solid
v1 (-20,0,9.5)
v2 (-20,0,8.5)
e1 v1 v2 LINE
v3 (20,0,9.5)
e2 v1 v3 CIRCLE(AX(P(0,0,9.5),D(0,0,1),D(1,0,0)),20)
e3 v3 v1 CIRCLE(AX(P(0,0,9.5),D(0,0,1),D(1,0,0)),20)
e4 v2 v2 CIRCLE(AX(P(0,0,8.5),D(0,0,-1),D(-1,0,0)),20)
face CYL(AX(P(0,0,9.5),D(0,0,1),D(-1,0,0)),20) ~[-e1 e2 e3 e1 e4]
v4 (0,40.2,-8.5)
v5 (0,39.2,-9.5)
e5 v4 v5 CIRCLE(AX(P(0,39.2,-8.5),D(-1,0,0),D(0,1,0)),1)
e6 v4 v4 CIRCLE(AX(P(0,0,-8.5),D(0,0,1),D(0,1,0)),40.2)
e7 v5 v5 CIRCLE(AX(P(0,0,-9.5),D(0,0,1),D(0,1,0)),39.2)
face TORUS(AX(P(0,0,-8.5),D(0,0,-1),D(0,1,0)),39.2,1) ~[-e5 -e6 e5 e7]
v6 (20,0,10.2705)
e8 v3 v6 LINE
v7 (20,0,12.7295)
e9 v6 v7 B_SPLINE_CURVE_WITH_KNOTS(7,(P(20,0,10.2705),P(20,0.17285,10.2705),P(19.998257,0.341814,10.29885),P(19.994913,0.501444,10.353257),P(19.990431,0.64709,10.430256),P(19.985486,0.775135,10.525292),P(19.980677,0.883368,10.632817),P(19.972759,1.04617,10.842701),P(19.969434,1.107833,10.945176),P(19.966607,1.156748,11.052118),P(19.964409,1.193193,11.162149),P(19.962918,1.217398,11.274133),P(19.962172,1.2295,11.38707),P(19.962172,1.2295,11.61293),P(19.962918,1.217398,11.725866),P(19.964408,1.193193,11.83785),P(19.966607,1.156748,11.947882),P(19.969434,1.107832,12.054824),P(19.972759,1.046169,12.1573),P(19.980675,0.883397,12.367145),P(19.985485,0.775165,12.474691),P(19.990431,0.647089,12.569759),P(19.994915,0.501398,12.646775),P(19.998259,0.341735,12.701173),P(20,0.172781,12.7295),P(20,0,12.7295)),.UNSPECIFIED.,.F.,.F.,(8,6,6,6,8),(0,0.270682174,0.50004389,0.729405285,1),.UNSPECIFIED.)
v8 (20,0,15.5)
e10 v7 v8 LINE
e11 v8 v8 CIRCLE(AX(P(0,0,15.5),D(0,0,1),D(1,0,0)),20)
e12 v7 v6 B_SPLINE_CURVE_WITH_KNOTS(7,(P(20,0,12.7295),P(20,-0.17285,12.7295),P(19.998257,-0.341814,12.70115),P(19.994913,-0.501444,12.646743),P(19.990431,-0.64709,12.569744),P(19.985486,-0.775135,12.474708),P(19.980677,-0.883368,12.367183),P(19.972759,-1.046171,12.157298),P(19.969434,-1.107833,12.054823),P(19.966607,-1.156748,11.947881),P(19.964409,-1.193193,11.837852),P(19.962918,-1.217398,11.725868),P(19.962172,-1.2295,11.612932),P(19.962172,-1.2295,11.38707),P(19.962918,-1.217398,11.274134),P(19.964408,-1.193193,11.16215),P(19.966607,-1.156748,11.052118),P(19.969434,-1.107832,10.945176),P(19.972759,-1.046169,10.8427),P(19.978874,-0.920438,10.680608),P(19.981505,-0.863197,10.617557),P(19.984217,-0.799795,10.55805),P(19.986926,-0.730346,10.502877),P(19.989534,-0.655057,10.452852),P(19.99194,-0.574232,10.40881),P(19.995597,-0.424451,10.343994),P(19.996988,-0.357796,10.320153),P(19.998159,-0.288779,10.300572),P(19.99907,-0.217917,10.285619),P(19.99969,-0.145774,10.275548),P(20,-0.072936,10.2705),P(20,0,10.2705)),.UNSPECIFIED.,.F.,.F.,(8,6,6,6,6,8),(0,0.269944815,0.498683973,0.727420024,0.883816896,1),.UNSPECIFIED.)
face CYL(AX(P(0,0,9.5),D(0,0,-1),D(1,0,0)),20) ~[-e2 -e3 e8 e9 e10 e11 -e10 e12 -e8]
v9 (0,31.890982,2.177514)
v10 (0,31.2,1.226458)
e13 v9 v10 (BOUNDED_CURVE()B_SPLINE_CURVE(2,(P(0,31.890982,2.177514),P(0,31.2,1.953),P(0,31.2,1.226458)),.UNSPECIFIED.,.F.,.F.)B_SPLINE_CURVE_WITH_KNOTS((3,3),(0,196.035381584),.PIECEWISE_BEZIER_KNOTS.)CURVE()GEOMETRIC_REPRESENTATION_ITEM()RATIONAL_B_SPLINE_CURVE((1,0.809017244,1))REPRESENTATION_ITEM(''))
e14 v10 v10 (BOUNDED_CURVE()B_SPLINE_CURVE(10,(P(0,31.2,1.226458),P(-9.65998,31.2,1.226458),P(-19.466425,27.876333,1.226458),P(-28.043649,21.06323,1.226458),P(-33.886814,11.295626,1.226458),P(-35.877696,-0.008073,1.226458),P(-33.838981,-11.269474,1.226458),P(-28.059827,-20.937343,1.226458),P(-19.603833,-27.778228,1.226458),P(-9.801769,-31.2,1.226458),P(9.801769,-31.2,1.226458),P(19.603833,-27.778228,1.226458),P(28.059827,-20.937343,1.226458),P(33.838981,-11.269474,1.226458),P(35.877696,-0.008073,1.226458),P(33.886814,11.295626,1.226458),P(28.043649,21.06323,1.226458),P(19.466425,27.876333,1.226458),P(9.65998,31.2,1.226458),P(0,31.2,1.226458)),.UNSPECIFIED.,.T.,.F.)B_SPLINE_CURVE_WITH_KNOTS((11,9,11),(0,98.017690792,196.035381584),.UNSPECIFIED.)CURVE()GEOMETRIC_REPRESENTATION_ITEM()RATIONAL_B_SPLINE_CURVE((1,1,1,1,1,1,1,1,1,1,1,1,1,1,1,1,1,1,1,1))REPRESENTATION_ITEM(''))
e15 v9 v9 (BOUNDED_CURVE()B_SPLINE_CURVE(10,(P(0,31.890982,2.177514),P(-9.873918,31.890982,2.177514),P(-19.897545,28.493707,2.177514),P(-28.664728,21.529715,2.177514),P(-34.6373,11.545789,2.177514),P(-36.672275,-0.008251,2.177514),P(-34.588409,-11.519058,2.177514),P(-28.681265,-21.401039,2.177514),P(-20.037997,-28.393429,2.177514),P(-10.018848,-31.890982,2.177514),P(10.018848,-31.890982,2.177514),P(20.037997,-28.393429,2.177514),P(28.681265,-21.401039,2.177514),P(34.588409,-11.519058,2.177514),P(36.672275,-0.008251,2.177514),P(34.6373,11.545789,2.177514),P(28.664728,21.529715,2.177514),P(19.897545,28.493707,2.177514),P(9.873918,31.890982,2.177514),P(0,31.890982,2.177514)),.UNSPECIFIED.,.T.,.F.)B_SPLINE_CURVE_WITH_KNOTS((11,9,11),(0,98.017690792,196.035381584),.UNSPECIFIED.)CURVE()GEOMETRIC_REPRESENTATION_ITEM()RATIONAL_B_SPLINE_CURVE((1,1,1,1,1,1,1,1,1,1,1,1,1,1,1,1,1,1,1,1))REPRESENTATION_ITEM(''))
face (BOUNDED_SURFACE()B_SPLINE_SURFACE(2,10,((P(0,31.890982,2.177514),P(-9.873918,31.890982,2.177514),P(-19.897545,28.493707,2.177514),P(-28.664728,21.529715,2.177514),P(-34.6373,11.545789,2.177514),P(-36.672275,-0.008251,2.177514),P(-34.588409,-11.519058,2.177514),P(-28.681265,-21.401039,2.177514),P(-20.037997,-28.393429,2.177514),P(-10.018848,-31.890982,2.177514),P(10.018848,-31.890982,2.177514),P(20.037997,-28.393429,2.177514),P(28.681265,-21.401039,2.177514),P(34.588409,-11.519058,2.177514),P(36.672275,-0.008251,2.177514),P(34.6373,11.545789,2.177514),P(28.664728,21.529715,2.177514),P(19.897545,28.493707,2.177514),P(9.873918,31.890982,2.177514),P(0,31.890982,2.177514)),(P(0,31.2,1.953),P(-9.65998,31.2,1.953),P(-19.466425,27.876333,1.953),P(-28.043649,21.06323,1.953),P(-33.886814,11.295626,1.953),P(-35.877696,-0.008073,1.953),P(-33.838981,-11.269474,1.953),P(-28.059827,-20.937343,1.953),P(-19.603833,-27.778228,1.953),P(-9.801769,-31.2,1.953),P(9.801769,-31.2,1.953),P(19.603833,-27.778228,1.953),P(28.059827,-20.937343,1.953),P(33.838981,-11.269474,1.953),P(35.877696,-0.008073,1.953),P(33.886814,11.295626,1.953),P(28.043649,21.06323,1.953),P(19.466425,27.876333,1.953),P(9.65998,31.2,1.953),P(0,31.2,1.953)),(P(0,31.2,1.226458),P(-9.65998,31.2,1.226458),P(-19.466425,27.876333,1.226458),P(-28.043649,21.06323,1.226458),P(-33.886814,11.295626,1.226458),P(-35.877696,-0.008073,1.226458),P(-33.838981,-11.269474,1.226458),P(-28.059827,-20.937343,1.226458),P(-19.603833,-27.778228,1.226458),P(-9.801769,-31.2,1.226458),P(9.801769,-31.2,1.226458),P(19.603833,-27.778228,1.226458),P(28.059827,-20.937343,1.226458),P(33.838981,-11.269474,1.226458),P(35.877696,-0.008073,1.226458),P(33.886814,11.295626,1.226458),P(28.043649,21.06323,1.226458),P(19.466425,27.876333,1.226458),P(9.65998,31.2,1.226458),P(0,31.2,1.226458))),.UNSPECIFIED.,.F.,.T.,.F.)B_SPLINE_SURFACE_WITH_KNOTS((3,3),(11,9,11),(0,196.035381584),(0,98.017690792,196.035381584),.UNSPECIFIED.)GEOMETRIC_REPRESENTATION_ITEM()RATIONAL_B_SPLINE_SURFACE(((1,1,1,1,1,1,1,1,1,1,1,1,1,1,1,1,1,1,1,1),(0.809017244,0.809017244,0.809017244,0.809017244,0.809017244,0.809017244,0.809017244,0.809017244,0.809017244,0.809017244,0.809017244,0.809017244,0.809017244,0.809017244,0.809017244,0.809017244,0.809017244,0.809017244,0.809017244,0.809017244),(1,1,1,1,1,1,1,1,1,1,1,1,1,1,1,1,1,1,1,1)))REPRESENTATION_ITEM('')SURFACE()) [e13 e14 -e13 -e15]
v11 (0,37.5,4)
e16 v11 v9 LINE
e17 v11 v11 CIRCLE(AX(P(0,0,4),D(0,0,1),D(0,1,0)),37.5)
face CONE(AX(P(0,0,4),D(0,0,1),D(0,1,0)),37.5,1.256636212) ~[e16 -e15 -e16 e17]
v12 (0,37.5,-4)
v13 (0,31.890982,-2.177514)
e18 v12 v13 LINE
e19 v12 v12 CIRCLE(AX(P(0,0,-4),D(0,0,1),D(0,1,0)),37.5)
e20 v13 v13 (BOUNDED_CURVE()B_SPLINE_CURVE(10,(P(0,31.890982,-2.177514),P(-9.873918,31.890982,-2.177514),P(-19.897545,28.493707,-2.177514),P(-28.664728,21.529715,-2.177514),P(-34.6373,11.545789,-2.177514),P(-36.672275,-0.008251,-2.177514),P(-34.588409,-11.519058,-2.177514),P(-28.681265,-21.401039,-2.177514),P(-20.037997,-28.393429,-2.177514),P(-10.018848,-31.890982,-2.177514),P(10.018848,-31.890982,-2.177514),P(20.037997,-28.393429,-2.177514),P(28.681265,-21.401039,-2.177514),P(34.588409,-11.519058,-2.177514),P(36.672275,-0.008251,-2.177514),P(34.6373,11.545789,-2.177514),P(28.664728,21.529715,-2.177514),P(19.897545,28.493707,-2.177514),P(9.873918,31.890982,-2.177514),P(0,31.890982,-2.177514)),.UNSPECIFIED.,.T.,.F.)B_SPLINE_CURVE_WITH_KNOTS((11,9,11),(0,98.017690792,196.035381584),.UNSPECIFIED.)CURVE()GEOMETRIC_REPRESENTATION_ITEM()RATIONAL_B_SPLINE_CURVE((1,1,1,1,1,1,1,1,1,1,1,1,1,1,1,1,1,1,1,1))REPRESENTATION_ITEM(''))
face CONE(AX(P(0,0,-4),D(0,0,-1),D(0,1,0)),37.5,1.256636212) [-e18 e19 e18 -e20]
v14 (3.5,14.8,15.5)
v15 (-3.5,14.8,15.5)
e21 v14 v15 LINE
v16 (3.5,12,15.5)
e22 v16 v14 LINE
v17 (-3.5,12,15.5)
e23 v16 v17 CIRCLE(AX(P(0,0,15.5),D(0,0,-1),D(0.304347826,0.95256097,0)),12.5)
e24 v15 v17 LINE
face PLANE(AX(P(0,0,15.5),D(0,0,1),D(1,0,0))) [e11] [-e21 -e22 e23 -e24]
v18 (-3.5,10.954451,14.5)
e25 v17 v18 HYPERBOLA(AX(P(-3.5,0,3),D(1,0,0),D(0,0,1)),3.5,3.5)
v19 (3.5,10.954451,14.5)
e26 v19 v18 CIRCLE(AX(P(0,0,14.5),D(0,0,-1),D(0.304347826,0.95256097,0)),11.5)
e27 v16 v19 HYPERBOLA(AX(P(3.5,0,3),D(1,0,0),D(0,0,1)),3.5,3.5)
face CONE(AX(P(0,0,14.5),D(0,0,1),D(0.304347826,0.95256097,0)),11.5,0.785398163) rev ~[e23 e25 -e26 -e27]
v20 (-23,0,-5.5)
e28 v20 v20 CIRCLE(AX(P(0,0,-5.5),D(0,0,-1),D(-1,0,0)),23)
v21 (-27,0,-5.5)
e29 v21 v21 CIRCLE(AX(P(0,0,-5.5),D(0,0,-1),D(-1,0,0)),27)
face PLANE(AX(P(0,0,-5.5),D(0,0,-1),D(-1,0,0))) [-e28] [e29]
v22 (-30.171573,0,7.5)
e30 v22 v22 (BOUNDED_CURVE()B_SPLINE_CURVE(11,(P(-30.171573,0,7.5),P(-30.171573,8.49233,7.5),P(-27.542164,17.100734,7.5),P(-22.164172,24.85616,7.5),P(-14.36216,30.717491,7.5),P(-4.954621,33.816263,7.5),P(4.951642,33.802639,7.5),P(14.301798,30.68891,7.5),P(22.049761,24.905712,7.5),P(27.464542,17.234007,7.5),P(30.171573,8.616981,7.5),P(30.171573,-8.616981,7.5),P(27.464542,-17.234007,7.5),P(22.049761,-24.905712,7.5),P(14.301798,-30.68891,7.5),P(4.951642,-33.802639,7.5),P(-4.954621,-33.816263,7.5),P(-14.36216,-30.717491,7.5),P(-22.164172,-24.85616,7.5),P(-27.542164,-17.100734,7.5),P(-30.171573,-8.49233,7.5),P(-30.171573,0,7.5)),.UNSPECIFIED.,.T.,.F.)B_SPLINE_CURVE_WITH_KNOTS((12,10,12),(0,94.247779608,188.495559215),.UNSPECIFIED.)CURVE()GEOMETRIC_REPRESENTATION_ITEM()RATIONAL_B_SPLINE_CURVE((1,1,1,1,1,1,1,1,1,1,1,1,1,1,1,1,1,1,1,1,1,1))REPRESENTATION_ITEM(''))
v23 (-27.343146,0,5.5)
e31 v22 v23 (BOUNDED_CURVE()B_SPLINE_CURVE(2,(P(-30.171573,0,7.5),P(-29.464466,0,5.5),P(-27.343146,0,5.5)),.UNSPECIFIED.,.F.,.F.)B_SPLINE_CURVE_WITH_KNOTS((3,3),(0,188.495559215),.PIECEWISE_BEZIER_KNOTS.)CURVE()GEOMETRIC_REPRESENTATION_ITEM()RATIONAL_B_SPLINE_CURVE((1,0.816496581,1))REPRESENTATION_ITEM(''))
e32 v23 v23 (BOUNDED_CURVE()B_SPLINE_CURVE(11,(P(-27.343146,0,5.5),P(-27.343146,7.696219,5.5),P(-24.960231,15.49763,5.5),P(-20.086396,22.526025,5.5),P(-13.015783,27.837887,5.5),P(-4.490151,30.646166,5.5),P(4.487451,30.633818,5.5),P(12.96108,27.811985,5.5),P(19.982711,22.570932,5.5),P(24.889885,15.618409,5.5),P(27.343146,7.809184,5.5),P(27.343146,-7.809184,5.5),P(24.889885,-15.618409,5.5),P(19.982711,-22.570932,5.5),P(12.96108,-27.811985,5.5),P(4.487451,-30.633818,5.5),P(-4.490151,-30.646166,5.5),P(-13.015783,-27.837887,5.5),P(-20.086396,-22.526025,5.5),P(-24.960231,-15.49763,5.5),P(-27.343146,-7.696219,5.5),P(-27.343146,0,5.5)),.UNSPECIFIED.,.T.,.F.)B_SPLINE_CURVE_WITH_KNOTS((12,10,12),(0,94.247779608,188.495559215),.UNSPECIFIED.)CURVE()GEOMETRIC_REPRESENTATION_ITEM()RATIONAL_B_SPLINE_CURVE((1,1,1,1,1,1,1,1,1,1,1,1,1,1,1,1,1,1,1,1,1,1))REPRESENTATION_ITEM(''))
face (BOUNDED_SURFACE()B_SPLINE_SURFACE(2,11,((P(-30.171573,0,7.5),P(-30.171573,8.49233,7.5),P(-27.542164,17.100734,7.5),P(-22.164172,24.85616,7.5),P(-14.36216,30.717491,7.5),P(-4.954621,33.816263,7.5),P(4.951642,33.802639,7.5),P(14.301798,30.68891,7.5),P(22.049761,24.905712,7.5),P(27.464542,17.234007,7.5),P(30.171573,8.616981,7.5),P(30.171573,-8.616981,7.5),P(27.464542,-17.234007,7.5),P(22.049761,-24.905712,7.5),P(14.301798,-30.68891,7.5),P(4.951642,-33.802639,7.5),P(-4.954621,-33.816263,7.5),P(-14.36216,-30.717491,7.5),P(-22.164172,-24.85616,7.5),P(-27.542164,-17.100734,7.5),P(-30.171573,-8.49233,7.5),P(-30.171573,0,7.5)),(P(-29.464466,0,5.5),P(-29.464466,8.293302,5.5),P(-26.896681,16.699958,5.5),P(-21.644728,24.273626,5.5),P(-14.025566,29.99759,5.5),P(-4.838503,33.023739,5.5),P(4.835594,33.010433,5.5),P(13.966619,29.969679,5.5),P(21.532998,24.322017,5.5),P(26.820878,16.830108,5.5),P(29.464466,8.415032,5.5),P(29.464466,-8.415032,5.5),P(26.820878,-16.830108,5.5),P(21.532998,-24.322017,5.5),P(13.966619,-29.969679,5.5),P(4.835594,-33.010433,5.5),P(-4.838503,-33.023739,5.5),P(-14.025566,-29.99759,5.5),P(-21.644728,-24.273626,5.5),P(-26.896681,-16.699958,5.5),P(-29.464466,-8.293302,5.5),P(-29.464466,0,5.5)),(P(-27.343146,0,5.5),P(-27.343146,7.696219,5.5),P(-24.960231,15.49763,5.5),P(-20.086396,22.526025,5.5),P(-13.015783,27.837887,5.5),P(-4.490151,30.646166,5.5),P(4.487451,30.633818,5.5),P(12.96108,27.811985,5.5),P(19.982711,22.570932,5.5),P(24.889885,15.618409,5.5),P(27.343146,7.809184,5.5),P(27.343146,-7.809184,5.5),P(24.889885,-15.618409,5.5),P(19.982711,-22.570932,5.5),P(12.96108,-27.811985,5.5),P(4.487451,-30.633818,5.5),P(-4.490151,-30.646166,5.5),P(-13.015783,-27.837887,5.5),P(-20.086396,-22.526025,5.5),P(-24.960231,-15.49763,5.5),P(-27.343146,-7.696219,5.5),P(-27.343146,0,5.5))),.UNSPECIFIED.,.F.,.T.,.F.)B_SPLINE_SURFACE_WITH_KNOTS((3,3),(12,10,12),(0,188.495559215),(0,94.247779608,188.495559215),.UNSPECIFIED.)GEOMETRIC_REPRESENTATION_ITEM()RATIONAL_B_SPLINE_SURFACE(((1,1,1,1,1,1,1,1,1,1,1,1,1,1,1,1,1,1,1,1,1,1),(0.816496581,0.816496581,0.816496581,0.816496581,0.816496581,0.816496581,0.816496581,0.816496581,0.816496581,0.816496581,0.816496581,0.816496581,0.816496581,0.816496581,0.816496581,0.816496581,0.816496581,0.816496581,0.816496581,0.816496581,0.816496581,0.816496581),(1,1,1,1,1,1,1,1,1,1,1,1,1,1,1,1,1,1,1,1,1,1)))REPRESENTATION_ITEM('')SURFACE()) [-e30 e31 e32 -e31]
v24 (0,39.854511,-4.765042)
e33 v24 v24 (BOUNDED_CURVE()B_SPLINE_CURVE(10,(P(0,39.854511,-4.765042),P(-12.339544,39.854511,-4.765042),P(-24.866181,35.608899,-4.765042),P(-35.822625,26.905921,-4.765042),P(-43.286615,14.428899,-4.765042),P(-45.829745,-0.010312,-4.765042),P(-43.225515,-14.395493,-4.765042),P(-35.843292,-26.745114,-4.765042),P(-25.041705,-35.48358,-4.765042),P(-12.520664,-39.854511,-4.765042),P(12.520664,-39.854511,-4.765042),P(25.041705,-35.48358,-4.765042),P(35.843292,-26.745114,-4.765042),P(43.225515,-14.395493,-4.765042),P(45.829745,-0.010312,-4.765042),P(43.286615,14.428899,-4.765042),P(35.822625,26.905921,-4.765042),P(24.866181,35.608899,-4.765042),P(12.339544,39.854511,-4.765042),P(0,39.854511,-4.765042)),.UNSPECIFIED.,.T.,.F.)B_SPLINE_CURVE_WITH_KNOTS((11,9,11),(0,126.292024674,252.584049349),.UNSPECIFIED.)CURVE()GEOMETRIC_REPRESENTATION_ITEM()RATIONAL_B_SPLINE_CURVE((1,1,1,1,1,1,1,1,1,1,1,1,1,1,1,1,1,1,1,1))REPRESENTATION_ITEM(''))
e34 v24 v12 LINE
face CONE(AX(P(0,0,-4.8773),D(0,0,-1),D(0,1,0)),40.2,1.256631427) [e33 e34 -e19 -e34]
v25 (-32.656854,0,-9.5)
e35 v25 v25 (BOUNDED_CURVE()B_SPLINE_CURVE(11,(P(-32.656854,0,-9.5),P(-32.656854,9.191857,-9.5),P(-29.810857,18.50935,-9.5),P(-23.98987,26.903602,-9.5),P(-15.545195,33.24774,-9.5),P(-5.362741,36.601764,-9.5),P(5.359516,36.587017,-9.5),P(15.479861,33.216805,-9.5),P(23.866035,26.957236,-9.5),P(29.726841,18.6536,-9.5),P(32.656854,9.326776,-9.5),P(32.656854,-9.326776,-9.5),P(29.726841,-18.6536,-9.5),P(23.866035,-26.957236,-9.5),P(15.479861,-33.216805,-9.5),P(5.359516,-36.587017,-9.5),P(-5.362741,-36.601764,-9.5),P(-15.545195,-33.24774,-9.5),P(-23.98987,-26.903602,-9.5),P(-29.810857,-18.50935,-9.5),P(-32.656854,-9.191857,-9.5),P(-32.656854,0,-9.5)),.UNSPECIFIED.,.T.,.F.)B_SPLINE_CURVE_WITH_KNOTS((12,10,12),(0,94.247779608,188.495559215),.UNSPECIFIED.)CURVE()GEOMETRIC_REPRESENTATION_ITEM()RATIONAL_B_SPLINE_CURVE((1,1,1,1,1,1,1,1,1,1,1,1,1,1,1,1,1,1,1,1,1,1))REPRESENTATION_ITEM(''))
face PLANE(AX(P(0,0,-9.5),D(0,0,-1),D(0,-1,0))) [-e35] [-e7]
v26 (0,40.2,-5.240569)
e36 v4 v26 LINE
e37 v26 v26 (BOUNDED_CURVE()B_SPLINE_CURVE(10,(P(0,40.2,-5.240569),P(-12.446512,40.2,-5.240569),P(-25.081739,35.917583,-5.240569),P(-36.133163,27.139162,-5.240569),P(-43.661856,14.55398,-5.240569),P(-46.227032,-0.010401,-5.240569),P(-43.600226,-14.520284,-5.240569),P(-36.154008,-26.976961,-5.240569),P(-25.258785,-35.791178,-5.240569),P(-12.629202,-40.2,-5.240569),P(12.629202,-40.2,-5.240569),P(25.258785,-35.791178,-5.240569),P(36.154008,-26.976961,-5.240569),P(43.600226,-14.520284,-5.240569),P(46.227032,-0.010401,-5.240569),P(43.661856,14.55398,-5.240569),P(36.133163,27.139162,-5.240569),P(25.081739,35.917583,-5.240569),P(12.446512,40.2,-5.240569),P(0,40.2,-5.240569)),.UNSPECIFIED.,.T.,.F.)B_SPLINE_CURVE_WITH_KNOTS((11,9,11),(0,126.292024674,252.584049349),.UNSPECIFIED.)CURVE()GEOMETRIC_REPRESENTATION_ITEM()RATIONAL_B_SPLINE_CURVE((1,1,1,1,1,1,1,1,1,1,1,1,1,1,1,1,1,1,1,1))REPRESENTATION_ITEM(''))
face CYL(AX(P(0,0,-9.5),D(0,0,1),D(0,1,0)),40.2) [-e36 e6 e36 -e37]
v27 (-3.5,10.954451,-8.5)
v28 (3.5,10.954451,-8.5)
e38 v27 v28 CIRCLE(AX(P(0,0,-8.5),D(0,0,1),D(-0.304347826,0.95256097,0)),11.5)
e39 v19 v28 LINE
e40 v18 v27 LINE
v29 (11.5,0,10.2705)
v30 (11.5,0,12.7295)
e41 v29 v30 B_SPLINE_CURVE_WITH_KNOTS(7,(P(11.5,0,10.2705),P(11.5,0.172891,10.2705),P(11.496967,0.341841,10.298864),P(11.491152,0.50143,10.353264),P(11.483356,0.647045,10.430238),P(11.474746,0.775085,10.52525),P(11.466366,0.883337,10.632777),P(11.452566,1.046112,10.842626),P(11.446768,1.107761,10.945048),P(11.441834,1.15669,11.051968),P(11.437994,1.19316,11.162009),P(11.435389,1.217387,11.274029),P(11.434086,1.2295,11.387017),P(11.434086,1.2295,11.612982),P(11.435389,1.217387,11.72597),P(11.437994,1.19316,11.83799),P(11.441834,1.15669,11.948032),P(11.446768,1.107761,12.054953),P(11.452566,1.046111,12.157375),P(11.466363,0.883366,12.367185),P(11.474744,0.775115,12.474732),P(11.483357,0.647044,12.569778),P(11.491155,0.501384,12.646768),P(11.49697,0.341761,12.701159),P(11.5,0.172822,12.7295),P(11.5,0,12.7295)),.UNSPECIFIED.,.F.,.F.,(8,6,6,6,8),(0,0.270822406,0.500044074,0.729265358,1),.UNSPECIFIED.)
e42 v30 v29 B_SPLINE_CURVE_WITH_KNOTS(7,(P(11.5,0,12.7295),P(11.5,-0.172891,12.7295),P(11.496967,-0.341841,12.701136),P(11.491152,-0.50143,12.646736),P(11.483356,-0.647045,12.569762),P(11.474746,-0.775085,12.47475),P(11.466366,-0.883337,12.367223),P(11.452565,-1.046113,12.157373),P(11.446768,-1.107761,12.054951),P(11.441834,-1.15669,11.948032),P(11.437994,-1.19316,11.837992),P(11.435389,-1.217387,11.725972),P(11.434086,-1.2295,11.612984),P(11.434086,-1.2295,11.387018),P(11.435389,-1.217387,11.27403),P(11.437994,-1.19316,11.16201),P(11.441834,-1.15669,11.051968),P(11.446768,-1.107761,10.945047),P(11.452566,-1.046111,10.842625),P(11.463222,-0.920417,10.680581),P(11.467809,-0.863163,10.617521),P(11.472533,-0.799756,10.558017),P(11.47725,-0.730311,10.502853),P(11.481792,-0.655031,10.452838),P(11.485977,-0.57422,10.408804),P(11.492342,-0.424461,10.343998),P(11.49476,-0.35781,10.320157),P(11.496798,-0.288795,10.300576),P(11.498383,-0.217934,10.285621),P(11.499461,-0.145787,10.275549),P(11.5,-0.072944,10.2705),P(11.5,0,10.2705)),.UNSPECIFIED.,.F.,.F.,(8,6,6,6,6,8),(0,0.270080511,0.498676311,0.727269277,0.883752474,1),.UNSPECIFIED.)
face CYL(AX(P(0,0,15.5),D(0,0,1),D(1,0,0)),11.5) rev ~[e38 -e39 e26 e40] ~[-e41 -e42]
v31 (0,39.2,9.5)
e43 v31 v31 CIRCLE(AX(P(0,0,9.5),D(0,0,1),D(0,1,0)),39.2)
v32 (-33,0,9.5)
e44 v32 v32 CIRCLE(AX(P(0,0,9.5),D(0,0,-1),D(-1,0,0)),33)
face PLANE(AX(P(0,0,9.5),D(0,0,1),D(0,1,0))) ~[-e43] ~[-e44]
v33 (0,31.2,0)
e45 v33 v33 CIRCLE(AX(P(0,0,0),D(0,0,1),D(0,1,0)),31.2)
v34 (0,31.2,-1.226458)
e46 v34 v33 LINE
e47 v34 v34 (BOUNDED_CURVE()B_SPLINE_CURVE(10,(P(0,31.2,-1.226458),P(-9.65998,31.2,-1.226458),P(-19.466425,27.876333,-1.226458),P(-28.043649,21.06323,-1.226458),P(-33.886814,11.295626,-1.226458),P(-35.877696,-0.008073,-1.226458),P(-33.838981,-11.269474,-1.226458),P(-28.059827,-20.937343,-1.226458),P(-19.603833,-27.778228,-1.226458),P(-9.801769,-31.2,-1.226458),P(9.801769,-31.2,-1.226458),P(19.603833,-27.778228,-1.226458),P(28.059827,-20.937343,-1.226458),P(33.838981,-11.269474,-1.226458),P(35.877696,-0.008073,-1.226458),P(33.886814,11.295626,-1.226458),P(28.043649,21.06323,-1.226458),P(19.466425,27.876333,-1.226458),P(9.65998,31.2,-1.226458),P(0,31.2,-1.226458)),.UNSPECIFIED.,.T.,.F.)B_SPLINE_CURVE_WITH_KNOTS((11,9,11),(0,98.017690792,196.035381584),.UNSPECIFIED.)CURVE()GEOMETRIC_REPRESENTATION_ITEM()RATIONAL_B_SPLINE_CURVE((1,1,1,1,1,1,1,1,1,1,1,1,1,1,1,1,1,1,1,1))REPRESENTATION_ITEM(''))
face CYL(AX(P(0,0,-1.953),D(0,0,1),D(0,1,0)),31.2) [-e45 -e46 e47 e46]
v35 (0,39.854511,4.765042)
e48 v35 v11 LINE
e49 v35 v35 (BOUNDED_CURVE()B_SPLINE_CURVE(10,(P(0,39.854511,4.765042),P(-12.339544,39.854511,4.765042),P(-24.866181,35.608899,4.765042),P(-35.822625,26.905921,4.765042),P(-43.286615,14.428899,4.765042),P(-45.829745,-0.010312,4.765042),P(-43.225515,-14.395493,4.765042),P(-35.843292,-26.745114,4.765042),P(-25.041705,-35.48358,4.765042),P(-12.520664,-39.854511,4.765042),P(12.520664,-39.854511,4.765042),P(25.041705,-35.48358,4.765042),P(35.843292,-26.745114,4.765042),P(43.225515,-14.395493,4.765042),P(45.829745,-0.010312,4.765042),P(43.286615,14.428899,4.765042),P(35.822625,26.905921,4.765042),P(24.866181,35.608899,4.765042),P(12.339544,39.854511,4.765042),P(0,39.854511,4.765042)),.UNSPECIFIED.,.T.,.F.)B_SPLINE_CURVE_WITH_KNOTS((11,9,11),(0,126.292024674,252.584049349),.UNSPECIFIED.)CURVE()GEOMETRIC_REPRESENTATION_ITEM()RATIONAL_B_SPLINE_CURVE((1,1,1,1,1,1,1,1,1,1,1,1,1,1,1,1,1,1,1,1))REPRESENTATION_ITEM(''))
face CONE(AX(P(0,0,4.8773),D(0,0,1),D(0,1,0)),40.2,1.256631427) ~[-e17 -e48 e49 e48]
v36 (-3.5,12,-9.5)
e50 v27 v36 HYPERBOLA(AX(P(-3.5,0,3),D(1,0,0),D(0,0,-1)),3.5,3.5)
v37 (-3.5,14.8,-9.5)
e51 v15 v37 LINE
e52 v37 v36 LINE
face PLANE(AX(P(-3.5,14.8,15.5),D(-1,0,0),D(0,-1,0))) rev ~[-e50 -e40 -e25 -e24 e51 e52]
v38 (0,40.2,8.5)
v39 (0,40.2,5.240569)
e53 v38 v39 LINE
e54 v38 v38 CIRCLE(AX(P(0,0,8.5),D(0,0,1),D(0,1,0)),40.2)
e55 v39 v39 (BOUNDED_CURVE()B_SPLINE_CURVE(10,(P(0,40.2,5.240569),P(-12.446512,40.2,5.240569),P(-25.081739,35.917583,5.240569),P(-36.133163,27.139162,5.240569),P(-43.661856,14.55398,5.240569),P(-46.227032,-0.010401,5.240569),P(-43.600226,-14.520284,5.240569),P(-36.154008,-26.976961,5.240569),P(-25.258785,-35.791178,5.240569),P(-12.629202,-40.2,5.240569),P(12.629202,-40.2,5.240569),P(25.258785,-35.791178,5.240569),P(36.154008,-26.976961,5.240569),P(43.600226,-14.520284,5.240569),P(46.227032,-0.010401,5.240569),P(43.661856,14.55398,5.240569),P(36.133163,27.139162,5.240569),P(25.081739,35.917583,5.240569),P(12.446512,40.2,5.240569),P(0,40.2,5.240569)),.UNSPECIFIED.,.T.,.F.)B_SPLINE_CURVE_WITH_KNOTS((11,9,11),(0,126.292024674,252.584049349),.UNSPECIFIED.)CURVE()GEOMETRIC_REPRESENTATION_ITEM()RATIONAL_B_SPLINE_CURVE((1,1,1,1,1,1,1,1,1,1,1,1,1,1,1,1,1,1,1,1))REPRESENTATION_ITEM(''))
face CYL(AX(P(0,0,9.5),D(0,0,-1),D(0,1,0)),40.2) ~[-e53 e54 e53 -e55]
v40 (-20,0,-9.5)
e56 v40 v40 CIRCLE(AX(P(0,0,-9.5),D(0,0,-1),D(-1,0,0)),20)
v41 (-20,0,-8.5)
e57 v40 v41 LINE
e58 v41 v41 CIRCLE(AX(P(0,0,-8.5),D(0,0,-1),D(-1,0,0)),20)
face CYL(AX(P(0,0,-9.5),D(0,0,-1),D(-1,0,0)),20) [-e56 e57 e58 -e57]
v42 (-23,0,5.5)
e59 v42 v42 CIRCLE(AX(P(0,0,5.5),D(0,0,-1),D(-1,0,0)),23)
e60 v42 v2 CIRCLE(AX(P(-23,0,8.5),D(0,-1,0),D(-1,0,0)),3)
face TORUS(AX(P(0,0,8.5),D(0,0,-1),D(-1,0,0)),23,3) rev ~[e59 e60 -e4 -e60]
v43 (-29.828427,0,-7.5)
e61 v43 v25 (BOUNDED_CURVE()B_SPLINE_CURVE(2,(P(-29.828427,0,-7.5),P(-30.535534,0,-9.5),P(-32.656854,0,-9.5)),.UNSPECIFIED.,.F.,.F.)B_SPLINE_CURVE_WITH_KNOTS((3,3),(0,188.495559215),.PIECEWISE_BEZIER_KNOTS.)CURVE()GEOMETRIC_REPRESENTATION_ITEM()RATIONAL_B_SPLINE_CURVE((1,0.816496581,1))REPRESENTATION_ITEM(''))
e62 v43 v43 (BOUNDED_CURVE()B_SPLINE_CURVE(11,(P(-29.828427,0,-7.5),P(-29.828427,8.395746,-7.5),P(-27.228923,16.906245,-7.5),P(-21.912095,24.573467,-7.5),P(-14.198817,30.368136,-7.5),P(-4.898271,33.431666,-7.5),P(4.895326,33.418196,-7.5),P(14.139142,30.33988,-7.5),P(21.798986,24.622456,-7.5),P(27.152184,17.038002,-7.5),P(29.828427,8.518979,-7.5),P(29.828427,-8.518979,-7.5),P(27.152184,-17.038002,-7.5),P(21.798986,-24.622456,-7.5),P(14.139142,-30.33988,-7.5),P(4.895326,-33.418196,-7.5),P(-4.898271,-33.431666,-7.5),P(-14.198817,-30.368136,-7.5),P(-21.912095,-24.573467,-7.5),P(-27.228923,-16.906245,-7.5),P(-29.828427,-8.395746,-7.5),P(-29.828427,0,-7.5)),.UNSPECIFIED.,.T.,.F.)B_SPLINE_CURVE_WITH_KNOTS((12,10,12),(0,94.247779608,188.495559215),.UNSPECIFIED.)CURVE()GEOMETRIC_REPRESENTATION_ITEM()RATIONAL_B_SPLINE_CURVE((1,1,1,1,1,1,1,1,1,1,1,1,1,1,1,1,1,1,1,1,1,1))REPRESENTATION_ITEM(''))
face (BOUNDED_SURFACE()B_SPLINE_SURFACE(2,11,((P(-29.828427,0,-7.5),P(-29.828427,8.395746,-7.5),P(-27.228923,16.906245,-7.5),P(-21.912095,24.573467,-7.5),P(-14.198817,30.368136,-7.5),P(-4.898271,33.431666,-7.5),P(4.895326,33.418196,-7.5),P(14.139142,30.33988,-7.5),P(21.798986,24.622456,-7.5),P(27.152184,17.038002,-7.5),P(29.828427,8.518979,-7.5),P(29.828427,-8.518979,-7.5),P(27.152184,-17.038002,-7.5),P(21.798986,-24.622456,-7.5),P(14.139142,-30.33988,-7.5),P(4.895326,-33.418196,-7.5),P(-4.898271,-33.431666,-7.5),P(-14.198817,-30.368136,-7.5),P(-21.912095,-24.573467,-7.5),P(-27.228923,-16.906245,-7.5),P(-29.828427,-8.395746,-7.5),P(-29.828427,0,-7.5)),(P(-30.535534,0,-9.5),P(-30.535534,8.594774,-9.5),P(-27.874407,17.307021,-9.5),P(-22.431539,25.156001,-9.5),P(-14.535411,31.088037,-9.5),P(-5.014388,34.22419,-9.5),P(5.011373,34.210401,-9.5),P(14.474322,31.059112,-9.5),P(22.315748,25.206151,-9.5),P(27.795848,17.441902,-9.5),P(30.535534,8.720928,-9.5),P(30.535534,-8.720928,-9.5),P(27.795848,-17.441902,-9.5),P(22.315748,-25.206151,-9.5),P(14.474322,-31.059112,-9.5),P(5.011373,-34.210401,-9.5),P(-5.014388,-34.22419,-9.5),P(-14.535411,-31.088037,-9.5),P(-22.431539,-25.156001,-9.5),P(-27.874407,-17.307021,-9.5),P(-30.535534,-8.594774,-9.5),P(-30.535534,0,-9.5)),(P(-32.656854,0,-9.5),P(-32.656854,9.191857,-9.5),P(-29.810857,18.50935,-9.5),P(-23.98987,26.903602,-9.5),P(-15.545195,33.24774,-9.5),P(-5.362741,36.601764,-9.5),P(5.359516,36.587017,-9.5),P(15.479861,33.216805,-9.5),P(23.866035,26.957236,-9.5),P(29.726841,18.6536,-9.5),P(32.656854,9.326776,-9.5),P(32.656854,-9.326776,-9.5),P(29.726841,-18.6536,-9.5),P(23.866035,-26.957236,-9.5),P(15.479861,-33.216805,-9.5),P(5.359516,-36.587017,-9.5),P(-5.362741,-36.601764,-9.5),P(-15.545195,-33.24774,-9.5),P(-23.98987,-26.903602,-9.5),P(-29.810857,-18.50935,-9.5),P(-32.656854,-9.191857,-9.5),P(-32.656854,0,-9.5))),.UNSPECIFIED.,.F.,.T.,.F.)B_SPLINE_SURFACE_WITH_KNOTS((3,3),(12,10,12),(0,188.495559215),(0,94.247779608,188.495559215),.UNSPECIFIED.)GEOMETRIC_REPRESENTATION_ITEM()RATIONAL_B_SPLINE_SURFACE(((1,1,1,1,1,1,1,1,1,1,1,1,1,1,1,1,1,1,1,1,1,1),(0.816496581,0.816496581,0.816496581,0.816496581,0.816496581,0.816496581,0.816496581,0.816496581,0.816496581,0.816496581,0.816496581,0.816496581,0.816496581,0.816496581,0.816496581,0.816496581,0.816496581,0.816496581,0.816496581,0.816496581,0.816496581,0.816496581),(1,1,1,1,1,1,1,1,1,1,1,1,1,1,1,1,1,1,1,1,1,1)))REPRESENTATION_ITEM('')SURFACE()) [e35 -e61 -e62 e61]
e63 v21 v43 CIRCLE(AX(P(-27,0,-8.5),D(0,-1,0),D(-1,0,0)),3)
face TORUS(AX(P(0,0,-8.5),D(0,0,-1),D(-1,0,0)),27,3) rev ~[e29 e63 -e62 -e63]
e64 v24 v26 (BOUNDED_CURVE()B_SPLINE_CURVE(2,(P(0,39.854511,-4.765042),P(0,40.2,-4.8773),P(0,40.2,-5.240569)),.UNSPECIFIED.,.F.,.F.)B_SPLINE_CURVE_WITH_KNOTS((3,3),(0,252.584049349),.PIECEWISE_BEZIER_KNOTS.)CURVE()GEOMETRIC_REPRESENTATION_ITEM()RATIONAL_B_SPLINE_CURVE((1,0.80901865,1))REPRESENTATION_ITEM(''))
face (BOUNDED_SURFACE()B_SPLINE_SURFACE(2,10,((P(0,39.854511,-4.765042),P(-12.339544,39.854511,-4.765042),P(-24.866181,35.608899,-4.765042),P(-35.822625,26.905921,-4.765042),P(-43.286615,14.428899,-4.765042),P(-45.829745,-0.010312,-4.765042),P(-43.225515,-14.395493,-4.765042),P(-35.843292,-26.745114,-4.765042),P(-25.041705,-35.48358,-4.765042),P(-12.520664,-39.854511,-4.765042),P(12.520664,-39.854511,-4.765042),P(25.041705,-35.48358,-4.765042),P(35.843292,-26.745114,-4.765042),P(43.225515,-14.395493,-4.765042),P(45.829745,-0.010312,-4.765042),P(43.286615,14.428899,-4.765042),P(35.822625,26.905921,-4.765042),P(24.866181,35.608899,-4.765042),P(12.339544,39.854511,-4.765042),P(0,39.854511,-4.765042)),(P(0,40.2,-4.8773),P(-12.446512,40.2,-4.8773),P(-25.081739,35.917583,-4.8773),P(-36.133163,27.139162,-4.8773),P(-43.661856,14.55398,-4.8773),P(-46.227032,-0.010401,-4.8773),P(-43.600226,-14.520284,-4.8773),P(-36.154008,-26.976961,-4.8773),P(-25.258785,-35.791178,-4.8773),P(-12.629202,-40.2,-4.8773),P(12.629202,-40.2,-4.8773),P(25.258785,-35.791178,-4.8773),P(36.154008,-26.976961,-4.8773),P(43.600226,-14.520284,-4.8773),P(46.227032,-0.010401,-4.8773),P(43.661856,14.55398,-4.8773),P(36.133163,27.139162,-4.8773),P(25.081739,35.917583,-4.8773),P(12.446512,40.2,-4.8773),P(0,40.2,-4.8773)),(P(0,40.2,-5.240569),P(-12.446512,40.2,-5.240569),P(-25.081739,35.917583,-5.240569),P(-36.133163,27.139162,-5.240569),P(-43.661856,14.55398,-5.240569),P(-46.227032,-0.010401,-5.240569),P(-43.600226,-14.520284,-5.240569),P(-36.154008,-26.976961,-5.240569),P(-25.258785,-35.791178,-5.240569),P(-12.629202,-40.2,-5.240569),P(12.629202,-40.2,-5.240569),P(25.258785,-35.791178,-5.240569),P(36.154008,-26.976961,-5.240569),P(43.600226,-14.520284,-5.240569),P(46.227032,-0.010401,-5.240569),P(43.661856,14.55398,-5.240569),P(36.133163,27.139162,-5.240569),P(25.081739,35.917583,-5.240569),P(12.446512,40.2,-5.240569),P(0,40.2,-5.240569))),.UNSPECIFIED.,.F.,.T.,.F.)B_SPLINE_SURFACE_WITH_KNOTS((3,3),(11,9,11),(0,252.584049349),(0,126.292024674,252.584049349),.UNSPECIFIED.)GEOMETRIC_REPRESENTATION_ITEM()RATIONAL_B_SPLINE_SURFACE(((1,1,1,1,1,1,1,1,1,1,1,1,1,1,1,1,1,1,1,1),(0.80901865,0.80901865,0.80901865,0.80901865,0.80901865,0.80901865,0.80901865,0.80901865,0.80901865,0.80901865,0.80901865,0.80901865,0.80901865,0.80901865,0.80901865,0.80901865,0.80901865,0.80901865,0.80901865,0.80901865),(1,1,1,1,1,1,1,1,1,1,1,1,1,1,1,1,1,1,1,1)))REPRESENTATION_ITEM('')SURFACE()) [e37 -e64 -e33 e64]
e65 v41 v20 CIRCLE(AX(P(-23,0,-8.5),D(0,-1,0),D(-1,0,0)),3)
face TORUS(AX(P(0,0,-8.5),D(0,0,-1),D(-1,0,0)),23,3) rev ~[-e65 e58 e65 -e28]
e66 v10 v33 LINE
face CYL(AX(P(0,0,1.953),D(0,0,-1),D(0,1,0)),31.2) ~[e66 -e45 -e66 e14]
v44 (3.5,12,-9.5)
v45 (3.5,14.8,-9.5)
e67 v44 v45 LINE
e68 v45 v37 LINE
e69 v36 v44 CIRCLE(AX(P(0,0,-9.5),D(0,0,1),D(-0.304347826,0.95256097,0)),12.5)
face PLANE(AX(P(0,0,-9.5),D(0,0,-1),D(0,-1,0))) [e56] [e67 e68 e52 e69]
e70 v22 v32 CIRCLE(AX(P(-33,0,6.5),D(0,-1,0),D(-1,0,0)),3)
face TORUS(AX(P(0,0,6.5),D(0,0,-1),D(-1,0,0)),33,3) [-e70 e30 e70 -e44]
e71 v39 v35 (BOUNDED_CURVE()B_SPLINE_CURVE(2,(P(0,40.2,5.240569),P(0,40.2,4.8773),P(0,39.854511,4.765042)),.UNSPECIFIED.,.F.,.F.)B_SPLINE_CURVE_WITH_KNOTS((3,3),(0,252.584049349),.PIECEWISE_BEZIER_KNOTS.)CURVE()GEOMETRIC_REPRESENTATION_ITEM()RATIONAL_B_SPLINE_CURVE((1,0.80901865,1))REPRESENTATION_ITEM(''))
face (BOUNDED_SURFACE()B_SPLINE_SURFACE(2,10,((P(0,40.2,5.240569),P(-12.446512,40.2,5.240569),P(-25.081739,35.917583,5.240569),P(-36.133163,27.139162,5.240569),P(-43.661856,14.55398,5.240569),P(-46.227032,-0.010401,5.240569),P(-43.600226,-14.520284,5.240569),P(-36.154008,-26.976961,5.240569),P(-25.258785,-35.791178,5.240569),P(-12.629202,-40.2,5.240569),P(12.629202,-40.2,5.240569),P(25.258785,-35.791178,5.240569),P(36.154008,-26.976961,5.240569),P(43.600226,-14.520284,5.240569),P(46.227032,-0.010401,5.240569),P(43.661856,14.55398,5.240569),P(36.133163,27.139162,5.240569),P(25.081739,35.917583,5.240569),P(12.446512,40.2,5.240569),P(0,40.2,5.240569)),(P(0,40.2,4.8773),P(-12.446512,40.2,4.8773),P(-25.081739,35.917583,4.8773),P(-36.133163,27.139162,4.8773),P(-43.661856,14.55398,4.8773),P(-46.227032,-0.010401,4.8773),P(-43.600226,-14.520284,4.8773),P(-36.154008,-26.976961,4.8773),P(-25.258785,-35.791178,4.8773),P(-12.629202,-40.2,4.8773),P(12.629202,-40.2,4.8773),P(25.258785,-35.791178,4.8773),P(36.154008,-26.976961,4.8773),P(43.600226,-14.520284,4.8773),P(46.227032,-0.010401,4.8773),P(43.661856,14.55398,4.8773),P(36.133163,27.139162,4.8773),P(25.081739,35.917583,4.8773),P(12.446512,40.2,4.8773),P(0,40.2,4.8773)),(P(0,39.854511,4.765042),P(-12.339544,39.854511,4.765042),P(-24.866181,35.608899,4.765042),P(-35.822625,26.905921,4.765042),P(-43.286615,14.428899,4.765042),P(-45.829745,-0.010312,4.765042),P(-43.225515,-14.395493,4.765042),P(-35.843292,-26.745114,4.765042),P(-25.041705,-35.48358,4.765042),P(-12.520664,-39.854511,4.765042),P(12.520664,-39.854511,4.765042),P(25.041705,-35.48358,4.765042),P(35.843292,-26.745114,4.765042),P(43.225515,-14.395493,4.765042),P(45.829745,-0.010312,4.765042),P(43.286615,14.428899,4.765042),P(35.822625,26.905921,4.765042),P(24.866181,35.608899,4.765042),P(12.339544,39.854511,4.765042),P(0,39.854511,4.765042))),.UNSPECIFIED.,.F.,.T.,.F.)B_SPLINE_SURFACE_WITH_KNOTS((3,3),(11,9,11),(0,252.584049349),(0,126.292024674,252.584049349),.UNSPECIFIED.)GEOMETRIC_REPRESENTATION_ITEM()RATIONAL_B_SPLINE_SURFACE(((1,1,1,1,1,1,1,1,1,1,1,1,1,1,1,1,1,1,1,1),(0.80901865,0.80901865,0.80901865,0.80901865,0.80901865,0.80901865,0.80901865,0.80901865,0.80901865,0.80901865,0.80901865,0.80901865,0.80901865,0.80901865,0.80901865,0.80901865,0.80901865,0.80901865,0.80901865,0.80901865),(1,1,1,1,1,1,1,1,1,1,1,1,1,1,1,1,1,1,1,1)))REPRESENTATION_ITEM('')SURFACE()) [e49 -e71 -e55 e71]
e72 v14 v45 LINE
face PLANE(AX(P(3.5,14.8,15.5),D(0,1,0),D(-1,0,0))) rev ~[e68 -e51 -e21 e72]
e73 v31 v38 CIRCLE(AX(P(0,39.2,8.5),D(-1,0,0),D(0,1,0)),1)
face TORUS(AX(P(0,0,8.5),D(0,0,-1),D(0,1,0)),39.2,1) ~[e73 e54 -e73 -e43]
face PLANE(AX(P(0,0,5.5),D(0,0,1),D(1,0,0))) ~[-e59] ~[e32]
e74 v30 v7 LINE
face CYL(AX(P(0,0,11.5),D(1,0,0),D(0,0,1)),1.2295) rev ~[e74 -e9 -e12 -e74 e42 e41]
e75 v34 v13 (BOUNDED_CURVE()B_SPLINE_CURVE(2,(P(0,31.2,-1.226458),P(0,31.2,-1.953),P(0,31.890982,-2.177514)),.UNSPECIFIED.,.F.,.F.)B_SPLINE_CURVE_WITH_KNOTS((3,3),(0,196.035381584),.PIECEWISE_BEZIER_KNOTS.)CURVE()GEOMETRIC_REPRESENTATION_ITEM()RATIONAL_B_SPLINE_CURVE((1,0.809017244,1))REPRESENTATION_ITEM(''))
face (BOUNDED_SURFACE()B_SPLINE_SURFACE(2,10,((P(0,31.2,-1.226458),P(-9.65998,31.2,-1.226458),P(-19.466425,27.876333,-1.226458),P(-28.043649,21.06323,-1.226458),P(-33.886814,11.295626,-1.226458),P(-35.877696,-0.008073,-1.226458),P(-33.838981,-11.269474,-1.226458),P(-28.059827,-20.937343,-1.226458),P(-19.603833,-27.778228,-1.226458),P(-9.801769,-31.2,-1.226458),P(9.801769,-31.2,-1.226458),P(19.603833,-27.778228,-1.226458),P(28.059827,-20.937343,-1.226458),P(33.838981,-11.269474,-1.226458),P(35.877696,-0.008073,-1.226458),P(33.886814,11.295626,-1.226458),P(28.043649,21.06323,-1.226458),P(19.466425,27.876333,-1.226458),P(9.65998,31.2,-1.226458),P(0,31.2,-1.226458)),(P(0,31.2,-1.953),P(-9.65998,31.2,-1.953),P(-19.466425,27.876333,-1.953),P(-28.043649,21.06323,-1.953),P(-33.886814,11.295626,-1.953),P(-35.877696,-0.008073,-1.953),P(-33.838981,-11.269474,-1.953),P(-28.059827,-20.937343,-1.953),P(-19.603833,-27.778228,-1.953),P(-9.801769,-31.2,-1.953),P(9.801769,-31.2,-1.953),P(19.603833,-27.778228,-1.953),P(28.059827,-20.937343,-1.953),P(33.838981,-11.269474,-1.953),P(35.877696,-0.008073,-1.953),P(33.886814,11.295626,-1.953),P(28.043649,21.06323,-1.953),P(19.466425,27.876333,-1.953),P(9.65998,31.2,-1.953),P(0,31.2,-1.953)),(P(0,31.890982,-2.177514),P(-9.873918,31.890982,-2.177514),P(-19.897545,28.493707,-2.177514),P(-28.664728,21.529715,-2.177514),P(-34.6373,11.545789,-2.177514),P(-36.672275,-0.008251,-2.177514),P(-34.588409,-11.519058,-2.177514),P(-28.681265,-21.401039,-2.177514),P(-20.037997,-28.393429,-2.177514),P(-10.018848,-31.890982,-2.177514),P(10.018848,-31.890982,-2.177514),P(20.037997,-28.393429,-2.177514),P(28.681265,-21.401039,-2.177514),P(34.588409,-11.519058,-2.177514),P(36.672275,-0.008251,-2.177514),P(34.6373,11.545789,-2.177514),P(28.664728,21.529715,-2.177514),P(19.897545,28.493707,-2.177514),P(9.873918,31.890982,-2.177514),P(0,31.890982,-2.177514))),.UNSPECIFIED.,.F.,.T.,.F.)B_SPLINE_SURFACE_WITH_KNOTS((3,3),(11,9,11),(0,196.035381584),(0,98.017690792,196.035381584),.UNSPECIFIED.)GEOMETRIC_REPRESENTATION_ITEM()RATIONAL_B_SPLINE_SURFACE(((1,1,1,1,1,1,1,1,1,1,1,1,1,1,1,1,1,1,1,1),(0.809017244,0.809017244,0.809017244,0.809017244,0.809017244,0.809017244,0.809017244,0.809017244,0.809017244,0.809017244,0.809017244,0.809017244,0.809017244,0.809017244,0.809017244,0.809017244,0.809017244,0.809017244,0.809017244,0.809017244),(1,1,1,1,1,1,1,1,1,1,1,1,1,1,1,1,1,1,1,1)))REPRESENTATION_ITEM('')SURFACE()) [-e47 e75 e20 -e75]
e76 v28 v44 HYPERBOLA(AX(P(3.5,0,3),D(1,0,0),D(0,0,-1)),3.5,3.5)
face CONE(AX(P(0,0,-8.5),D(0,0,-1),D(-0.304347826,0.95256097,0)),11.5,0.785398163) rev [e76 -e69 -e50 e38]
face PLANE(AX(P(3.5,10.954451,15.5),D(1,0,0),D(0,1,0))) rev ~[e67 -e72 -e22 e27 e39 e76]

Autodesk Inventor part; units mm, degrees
ref_plane "YZ Plane" through (0, 0, 0) normal (1, 0, 0) x (0, 1, 0)
ref_plane "XZ Plane" through (0, 0, 0) normal (0, 1, 0) x (-1, 0, 0)
ref_plane "XY Plane" through (0, 0, 0) normal (0, 0, 1) x (1, 0, 0)
sketch "스케치1" plane through (0, 0, 0) normal (1, 0, 0) x (0, 1, 0)
  line L0 (0, 0) -> (0, 9.5)
  line L1 (0, 9.5) -> (40.2, 9.5)
  line L2 (40.2, 9.5) -> (40.2, 4.8773)
  line L3 (40.2, 4.8773) -> (37.5, 4)
  line L4 (37.5, 4) -> (31.2, 1.953)
  line L5 (31.2, 1.953) -> (31.2, 0)
  line L6 (31.2, 0) -> (0, 0)
  dimension "d1" = 37.5
  dimension "d2" = 4
  dimension "d3" = 6.3
  dimension "d4" = 9.5
  dimension "d5" = 2.7
  dimension "d7" = 18
revolve "회전1" add sketch "스케치1" angle 360 about axis through (0, 0, 0) along (0, 0, 1)
mirror "미러1" about plane through (0, 0, 0) normal (0, 0, -1) of "회전1"
fillet "모깎기1" radius 1 2 edges at (0, -40.2, 9.5) (0, -40.2, -9.5)
fillet "모깎기2" radius 0.5 2 edges at (0, -40.2, 4.8773) (0, -40.2, -4.8773)
fillet "모깎기3" radius 1 2 edges at (0, -31.2, 1.953) (0, -31.2, -1.953)
sketch "스케치2" plane through (0, 0, 9.5) normal (0, 0, 1) x (1, 0, 0)
  circle A0 centre (0, 0) radius 20
  dimension "d11" = 40
extrude "돌출1" add sketch "스케치2" along normal blind 6
sketch "스케치3" plane through (0, 0, 15.5) normal (0, 0, 1) x (1, 0, 0)
  circle A0 centre (0, 0) radius 11.5
  line L0 (-3.5, 14.8) -> (-3.5, 0)
  line L1 (-3.5, 0) -> (3.5, 0)
  line L2 (3.5, 0) -> (3.5, 14.8)
  line L3 (3.5, 14.8) -> (-3.5, 14.8)
  line L4 (-3.5, 14.8) -> (3.5, 0) construction
  line L5 (-3.5, 0) -> (3.5, 14.8) construction
  point P0 (0, 7.4)
  dimension "d14" = 23
  dimension "d15" = 7
  dimension "d16" = 3.5
  dimension "d17" = 14.8
  dimension "d18" = 11.5
extrude "돌출2" cut sketch "스케치3" against normal up to next
chamfer "모따기1" distance 1 angle 45 2 edges at (0, -11.5, 15.5) (0, -11.5, -9.5)
sketch "스케치4" plane through (0, 0, -9.5) normal (0, 0, -1) x (-1, 0, 0)
  circle A0 centre (0, 0) radius 30
  circle A1 centre (0, 0) radius 20
  dimension "d24" = 60
  dimension "d25" = 40
extrude "돌출3" cut sketch "스케치4" against normal blind 4
mirror "미러2" about plane through (0, 0, 0) normal (0, 0, 1) of "돌출3"
fillet "모깎기4" radius 3 6 edges at (30, 0, 9.5) (30, 0, 5.5) (20, 0, 5.5) (20, 0, -5.5) (30, 0, -5.5) (30, 0, -9.5)
sketch "스케치5" plane through (0, 0, 0) normal (1, 0, 0) x (0, 1, 0)
  circle A0 centre (0, 11.5) radius 1.5
  line L0 (20, 15.5) -> (-20, 15.5) projected
  point P0 (0, 0)
  dimension "d29" = 3
  dimension "d30" = 4
hole "구멍1" at (0, 0, 11.5) direction (1, 0, 0) diameter 2.459 end through all thread size "M3x0.5" class "6H" standard "ANSI Metric M Profile"
properties part number "2강V-벨트풀리"
